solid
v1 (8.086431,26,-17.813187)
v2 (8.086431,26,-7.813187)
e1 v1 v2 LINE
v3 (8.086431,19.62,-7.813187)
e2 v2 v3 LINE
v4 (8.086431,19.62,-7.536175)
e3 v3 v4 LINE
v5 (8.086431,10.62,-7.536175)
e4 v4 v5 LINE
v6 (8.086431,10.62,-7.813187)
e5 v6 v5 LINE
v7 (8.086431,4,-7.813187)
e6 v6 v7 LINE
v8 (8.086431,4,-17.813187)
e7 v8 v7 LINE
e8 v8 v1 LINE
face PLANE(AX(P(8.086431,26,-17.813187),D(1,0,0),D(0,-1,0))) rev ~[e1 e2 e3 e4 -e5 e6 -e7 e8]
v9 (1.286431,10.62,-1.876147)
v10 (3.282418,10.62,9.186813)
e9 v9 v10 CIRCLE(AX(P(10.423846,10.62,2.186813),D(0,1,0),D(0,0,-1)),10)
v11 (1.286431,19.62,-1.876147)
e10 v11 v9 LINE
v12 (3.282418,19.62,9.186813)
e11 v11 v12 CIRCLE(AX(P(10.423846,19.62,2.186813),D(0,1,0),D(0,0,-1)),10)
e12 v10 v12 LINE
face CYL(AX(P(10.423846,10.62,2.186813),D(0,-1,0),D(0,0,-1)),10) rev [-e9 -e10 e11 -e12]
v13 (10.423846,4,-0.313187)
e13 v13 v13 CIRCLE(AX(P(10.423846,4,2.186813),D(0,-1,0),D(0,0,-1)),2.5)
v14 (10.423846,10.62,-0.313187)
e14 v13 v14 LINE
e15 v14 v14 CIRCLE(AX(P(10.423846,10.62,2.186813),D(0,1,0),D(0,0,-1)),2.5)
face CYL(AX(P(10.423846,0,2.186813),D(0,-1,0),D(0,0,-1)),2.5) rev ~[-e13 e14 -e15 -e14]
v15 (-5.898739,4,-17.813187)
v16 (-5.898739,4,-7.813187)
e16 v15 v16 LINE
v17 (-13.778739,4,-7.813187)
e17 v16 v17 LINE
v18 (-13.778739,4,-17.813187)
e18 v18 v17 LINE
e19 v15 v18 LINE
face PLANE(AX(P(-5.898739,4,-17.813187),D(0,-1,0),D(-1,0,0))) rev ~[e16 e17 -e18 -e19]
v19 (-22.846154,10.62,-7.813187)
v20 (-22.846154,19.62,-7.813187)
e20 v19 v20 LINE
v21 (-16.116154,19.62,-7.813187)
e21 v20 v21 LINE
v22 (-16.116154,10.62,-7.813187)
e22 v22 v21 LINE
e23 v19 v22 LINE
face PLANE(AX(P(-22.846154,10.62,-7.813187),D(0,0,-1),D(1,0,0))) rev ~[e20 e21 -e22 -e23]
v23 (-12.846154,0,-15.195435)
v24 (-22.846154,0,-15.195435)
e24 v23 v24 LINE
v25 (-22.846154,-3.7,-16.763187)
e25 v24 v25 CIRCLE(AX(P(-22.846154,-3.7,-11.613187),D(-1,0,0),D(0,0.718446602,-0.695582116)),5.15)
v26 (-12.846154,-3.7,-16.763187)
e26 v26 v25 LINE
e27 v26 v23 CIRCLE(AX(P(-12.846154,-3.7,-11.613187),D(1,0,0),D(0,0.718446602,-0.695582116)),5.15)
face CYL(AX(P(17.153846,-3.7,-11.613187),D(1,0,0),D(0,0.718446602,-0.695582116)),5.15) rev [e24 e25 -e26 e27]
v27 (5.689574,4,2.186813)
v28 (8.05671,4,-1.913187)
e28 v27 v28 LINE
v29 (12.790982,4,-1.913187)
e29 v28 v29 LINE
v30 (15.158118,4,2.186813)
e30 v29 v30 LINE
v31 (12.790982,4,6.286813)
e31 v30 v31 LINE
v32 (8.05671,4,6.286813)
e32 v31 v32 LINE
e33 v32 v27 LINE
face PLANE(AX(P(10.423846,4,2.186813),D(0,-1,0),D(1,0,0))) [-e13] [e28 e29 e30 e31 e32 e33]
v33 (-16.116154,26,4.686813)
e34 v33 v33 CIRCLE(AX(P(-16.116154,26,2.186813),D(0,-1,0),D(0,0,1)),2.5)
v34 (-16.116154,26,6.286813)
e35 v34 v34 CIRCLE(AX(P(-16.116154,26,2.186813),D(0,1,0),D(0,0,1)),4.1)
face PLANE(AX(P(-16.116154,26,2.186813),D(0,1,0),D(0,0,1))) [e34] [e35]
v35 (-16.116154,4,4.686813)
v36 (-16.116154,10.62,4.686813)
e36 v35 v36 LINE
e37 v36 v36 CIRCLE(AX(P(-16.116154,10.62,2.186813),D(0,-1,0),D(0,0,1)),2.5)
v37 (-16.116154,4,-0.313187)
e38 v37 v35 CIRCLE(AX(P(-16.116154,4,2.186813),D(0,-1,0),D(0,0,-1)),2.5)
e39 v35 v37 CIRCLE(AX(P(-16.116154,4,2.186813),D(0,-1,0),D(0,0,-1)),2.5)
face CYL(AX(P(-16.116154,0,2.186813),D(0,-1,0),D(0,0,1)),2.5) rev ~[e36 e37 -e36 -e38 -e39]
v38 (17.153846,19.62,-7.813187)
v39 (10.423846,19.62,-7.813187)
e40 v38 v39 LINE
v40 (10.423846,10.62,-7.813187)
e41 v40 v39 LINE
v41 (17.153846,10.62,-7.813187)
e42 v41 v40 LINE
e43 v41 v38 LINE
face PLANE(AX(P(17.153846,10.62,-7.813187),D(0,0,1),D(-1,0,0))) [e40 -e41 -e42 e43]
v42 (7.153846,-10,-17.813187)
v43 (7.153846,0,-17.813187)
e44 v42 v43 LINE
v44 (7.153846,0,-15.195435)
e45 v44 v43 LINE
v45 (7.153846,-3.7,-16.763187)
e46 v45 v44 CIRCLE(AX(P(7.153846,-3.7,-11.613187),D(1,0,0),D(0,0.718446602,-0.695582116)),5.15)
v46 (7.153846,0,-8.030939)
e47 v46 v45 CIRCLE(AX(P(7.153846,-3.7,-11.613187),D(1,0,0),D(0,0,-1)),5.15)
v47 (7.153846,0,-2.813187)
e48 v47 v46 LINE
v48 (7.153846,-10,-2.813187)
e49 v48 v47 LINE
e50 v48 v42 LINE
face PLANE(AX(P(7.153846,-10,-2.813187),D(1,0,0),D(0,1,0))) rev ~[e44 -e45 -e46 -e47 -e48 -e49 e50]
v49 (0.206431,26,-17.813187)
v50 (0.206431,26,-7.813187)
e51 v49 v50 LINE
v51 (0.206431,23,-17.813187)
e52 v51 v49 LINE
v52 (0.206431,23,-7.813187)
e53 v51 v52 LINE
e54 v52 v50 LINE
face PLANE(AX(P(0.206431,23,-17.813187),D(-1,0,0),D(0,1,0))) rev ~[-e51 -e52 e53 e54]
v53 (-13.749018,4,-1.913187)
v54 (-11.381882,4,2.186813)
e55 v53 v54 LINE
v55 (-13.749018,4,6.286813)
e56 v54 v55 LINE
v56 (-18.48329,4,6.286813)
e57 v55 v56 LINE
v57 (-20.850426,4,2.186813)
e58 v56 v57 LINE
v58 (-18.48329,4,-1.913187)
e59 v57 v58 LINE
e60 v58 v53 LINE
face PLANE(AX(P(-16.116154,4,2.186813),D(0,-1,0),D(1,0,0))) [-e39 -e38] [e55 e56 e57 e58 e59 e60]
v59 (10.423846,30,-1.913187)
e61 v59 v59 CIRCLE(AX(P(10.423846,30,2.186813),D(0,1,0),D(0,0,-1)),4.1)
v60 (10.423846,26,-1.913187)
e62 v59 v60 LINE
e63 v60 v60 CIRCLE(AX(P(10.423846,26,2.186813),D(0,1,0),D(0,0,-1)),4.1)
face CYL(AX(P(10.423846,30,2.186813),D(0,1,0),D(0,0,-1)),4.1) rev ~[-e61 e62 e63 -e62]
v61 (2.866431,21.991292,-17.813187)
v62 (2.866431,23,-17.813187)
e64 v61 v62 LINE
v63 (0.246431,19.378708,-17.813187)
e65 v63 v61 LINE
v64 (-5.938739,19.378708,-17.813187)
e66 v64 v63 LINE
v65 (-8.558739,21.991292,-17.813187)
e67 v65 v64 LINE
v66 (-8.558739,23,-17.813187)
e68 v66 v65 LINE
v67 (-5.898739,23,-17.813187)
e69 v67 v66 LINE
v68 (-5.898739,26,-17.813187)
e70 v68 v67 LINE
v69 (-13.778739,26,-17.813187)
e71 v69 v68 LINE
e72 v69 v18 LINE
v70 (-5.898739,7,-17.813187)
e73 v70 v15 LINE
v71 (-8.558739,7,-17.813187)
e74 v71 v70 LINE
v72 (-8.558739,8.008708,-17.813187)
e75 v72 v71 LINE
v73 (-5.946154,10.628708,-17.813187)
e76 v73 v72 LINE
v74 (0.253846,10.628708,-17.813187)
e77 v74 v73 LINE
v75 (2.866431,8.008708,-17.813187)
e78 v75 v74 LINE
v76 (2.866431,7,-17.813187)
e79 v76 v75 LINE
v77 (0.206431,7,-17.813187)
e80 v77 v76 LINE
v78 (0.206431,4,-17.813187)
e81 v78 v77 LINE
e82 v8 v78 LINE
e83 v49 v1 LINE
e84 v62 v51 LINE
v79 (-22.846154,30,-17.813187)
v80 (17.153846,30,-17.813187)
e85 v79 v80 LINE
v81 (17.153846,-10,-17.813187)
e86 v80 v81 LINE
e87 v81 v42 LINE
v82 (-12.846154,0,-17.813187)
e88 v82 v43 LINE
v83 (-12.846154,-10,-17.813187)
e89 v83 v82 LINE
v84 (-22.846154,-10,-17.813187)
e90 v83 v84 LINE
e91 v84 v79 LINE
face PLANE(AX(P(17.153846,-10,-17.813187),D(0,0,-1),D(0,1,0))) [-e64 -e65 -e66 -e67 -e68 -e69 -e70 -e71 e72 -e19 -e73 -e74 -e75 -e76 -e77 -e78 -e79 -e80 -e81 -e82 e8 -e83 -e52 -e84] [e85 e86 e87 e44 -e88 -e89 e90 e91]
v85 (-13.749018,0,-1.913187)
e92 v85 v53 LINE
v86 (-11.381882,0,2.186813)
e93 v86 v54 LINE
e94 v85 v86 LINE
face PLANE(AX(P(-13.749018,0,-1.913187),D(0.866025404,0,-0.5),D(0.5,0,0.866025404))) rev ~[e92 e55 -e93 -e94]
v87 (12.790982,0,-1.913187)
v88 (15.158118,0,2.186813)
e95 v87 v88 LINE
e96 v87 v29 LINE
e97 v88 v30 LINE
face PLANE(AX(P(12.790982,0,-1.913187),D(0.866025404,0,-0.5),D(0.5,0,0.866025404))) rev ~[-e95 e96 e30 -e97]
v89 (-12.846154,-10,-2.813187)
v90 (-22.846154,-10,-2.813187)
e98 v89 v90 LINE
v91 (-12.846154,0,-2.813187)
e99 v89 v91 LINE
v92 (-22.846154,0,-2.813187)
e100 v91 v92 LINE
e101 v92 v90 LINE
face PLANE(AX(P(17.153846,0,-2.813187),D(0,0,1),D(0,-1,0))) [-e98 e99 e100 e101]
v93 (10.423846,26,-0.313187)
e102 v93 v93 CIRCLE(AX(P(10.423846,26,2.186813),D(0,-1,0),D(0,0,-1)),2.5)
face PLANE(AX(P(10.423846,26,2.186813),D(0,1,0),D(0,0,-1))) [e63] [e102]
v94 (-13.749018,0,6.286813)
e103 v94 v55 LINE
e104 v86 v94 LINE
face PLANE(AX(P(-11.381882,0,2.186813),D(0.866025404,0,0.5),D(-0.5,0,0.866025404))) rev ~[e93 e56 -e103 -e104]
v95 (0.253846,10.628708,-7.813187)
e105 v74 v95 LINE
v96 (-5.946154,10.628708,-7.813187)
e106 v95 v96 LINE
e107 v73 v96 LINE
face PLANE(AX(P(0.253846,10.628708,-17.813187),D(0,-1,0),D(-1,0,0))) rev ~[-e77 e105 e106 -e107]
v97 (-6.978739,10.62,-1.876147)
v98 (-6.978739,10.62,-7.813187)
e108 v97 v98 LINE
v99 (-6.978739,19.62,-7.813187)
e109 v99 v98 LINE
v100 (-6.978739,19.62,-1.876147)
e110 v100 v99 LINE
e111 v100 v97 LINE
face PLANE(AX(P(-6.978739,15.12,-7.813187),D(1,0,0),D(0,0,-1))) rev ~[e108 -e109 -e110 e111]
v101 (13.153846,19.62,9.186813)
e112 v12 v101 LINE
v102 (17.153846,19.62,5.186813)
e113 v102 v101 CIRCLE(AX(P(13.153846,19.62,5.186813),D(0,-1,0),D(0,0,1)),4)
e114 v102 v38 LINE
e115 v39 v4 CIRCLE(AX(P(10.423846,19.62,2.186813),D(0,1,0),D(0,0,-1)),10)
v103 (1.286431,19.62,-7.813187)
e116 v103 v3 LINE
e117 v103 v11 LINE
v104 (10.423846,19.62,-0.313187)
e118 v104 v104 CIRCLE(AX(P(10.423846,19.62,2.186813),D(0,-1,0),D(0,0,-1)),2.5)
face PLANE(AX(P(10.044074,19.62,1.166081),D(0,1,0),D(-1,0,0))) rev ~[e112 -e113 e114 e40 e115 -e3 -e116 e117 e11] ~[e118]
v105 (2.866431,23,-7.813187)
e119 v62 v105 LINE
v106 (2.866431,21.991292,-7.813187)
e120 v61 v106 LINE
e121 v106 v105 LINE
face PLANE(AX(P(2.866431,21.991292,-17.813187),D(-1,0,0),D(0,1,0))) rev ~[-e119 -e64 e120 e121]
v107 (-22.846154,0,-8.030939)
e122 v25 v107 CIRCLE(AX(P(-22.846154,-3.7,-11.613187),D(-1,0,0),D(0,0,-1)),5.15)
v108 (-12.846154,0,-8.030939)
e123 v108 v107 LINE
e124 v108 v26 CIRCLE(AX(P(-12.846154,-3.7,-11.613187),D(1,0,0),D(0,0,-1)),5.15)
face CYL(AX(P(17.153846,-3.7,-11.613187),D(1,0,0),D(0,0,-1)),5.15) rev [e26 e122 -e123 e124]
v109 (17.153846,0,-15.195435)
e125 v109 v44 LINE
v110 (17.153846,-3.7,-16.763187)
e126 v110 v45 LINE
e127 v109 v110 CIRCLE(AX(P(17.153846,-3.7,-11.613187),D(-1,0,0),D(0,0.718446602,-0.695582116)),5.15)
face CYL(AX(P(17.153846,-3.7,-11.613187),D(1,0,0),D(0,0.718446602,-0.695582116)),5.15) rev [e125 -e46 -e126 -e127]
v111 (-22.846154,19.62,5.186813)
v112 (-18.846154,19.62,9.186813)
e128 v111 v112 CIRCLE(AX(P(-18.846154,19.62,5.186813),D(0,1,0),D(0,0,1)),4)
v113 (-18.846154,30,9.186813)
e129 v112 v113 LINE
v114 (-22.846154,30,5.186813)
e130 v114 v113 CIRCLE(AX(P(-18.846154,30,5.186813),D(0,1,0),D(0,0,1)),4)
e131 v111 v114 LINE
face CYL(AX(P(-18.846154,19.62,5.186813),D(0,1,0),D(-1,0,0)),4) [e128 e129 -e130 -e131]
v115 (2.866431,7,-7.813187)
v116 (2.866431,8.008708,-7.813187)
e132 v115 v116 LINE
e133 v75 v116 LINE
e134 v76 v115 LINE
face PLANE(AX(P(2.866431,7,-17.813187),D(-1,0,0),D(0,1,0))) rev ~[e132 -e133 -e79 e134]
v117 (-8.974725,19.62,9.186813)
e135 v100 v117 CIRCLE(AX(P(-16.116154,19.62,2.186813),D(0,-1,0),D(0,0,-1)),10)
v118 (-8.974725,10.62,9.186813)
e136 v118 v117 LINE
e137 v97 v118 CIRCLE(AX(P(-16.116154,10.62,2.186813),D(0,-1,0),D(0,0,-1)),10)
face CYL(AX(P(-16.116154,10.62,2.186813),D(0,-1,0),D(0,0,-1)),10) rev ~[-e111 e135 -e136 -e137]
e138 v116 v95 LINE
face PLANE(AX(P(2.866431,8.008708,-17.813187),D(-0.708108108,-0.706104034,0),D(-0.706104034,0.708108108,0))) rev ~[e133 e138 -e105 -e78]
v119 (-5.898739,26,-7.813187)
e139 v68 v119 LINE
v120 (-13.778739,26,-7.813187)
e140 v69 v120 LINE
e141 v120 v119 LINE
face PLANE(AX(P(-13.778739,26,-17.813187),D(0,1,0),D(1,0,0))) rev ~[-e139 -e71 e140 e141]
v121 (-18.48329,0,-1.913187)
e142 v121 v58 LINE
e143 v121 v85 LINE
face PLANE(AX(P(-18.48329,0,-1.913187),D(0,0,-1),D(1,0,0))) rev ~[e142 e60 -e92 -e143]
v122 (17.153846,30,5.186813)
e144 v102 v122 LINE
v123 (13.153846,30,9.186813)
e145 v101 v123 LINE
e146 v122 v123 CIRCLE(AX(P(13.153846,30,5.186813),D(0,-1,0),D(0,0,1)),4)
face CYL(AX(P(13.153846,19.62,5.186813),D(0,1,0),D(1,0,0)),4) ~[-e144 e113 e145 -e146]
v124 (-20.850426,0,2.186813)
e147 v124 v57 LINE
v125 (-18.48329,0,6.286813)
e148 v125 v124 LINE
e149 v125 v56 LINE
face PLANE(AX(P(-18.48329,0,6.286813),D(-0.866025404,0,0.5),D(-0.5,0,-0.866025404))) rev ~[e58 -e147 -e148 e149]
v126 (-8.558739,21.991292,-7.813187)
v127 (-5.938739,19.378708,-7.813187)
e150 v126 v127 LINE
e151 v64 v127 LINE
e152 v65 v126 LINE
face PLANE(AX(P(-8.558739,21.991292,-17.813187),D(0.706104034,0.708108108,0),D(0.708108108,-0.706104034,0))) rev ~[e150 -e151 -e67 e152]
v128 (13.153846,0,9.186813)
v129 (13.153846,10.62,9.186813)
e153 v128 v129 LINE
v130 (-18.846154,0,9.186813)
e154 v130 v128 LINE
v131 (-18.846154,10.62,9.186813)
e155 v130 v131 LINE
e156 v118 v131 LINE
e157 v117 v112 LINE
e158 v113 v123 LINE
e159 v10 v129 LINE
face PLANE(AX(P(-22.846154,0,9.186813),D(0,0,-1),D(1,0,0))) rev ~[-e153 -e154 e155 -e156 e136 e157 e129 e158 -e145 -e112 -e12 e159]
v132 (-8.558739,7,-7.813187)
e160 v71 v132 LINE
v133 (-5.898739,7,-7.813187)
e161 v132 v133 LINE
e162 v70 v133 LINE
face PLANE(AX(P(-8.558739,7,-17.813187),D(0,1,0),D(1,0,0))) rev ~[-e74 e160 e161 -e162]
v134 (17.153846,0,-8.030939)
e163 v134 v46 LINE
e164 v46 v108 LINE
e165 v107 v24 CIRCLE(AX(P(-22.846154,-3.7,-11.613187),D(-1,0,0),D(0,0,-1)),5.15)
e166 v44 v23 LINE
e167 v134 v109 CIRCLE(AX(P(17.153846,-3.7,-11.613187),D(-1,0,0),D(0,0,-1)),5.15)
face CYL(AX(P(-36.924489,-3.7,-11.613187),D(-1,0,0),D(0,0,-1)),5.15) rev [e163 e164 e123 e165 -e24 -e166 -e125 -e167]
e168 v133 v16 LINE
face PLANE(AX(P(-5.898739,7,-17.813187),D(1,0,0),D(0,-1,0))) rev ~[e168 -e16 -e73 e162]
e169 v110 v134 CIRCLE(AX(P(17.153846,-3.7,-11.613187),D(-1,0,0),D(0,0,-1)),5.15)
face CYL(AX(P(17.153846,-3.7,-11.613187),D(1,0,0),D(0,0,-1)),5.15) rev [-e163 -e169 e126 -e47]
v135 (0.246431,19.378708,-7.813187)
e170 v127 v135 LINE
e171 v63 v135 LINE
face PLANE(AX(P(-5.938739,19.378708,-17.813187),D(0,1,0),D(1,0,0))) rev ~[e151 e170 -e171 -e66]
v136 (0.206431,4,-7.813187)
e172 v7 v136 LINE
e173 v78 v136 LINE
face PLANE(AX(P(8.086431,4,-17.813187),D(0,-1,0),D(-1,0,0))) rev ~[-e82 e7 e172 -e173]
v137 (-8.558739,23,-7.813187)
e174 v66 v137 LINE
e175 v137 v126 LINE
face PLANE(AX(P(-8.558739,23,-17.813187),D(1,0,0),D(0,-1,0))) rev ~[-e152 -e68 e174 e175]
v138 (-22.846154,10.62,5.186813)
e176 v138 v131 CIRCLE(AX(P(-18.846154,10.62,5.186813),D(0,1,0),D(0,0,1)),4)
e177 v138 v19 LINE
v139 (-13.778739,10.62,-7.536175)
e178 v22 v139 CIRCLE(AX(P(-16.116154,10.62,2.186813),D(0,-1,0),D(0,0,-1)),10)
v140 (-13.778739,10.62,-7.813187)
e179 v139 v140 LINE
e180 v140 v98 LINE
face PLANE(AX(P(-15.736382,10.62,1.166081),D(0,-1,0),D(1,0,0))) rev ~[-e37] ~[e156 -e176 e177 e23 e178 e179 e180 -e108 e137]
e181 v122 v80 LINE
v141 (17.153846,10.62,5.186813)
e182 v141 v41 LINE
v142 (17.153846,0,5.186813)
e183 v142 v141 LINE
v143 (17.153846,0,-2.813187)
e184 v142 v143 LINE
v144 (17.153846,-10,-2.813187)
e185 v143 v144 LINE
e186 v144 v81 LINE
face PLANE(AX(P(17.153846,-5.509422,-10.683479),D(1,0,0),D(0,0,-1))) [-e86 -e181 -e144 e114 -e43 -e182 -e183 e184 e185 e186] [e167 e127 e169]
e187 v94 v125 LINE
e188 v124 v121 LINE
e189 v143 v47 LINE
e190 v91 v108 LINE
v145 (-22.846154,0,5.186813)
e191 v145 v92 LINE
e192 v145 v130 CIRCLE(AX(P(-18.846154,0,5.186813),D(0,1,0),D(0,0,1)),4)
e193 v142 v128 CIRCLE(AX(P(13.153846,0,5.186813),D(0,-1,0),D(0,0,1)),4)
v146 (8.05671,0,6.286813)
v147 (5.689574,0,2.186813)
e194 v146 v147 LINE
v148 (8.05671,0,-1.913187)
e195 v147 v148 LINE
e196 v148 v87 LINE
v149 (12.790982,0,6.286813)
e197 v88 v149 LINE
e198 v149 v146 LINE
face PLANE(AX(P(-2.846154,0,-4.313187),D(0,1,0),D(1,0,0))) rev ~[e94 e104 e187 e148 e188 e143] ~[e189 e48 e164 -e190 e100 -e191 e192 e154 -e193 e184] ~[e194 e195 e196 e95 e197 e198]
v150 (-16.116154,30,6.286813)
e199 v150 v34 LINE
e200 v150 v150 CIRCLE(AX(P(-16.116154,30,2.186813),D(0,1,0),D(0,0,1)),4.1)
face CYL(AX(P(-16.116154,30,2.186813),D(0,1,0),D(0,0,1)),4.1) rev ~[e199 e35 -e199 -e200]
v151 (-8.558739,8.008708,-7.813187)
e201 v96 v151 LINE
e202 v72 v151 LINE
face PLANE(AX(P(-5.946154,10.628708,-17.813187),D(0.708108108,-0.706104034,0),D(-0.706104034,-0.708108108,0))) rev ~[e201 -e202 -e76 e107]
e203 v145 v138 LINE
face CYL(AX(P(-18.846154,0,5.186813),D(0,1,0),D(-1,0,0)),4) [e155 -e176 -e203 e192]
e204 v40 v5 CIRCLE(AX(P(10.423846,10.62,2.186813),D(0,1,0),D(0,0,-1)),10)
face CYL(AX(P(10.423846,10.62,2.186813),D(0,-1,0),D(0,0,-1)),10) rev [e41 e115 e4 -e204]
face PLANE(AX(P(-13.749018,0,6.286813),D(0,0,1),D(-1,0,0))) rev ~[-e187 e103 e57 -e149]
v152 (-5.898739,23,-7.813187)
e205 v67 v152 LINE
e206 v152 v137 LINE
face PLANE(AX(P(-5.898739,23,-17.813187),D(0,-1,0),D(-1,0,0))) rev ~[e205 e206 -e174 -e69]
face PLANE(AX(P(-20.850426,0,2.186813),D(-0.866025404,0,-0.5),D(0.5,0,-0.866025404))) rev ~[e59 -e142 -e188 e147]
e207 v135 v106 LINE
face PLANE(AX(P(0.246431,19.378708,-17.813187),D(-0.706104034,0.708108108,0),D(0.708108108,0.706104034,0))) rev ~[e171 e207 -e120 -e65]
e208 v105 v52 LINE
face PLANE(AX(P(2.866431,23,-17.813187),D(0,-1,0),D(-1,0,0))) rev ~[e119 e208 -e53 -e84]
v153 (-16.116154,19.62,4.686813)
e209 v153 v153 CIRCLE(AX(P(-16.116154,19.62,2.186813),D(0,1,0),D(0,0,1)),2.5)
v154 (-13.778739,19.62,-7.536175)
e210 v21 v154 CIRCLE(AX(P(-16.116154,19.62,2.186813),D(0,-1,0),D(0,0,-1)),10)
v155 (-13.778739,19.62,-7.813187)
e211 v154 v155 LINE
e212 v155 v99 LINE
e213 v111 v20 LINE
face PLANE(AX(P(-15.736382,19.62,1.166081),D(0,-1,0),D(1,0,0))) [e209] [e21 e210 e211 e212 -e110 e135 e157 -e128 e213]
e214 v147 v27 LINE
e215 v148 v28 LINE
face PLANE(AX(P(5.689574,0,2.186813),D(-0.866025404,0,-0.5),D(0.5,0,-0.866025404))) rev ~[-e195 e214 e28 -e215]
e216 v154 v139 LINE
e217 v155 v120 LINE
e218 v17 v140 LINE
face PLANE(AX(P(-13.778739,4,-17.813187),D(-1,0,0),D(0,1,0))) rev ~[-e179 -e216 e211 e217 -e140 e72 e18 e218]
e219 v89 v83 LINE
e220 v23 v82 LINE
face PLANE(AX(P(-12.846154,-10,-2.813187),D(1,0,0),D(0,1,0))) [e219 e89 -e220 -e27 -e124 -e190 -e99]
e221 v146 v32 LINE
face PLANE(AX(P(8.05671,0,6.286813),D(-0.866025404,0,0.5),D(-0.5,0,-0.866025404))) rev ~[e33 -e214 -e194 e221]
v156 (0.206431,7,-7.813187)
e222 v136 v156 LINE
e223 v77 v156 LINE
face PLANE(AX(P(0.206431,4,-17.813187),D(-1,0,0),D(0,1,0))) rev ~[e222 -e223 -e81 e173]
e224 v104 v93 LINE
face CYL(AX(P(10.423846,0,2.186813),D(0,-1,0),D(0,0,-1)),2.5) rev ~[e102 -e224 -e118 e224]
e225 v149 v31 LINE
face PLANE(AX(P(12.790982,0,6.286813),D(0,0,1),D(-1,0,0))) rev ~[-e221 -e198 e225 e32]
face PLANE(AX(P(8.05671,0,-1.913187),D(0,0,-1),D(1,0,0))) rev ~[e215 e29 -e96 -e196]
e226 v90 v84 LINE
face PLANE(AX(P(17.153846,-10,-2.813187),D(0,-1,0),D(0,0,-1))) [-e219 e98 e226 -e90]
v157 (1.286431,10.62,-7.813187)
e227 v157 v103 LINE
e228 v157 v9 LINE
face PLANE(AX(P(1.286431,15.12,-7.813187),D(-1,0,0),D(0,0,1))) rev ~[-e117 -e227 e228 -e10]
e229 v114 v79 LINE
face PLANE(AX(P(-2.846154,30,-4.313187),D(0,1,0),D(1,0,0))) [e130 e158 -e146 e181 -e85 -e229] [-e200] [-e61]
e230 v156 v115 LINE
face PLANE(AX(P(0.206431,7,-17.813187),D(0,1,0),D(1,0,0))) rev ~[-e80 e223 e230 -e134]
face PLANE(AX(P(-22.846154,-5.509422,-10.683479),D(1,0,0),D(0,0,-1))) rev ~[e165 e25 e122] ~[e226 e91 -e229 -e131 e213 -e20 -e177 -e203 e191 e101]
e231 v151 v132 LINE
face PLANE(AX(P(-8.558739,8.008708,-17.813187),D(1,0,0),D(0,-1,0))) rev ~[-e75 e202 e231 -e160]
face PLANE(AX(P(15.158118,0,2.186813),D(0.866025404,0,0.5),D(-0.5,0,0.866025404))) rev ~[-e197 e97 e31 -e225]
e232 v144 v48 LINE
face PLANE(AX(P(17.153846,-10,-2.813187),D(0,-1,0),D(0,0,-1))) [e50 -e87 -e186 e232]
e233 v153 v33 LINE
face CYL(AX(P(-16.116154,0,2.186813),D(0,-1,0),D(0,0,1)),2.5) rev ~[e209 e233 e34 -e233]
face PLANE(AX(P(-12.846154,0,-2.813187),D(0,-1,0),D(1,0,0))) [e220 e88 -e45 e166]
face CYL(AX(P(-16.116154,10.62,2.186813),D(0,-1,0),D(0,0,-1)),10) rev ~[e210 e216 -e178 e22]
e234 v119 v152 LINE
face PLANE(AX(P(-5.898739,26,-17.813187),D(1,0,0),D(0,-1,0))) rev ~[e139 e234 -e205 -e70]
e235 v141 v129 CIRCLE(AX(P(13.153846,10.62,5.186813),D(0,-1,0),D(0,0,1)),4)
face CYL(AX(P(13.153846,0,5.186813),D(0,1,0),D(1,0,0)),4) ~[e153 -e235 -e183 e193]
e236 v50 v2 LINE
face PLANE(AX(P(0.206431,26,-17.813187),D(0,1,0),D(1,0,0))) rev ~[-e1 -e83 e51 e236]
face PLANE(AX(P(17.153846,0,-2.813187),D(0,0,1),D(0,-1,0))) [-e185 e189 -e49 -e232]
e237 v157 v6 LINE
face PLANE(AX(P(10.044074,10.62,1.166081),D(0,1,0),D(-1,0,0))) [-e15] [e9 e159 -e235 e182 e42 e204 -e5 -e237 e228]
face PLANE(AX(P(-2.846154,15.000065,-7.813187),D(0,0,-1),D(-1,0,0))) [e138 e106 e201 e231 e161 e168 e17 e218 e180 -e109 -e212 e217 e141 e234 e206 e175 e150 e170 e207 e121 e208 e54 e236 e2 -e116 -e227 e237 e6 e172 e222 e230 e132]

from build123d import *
from build123d.topology import SkipClean

# Parameters (mm, degrees)
SKETCH1_W                = 40
SKETCH1_H                = 27
BOSS_EXTRUDE1_DEPTH      = 30
CUT_EXTRUDE1_DEPTH       = 10
SKETCH3_R                = 2.5
CUT_EXTRUDE2_DEPTH       = 30
CUT_EXTRUDE5_START       = -10.62
CUT_EXTRUDE5_DEPTH       = 9
SKETCH10_W               = 20
SKETCH10_H               = 9
CUT_EXTRUDE7_DEPTH       = 6.8
SKETCH12_W               = 20
SKETCH12_H               = 9
CUT_EXTRUDE10_DEPTH      = 6.8
FILLET1_R                = 4
BOSS_EXTRUDE2_DEPTH      = 40
CUT_EXTRUDE14_DEPTH      = 54.078334793
CUT_EXTRUDE14_DEPTH_BACK = 54.078334793
SKETCH17_R               = 5.15
CUT_EXTRUDE11_REACH      = 42.583
SKETCH14_W               = 20
SKETCH14_H               = 10
SKETCH15_R               = 4.1
CUT_EXTRUDE12_DEPTH      = 4
SKETCH16_R               = 2.5
CUT_EXTRUDE13_DEPTH      = 4


with BuildPart() as part:
    # Sketch1 → Boss-Extrude1 (new body)
    with BuildSketch(Plane(origin=(0, 0, 0), x_dir=(1, 0, 0), z_dir=(0, 1, 0))):
        with Locations((-2.846153846, 4.313186813)):
            Rectangle(SKETCH1_W, SKETCH1_H)
    extrude(amount=BOSS_EXTRUDE1_DEPTH)

    # Sketch2 → Cut-Extrude1 (cut)
    with BuildSketch(Plane(origin=(0, 0, -17.813186813), x_dir=(-1, 0, 0), z_dir=(0, 0, -1))):
        Polygon((-8.086431081, 26), (-8.086431081, 4), (-0.206431081, 4), (-0.206431081, 7), (-2.866431081, 7), (-2.866431081, 8.008707537), (-0.253846154, 10.628707537), (5.946153846, 10.628707537), (8.558738773, 8.008707537), (8.558738773, 7), (5.898738773, 7), (5.898738773, 4), (13.778738773, 4), (13.778738773, 26), (5.898738773, 26), (5.898738773, 23), (8.558738773, 23), (8.558738773, 21.991292463), (5.938738773, 19.378707537), (-0.246431081, 19.378707537), (-2.866431081, 21.991292463), (-2.866431081, 23), (-0.206431081, 23), (-0.206431081, 26), align=None)
    extrude(amount=-CUT_EXTRUDE1_DEPTH, mode=Mode.SUBTRACT)

    # Sketch3 → Cut-Extrude2 (cut)
    with BuildSketch(Plane.XZ):
        with Locations(Location((10.423846154, 2.186813187, 0), (0, 0, 270))):
            Circle(SKETCH3_R)
        with Locations(Location((-16.116153846, 2.186813187, 0), (0, 0, 90))):
            Circle(SKETCH3_R)
    extrude(amount=-CUT_EXTRUDE2_DEPTH, mode=Mode.SUBTRACT)

    # Sketch8 → Cut-Extrude5 (cut)
    with BuildSketch(Plane.XZ.offset(CUT_EXTRUDE5_START)):
        with BuildLine():
            Line((3.282417725, 9.186813187), (17.153846154, 9.186813187))
            Line((17.153846154, 9.186813187), (17.153846154, -7.813186813))
            Line((17.153846154, -7.813186813), (10.423846154, -7.813186813))
            ThreePointArc((10.423846154, -7.813186813), (1.204301697, -1.686170159), (3.282417725, 9.186813187))
        make_face()
        with BuildLine():
            Line((-22.846153846, -7.813186813), (-16.116153846, -7.813186813))
            ThreePointArc((-16.116153846, -7.813186813), (-6.896609389, -1.686170159), (-8.974725418, 9.186813187))
            Line((-8.974725418, 9.186813187), (-22.846153846, 9.186813187))
            Line((-22.846153846, 9.186813187), (-22.846153846, -7.813186813))
        make_face()
    extrude(amount=-CUT_EXTRUDE5_DEPTH, mode=Mode.SUBTRACT)

    # Sketch10 → Cut-Extrude7 (cut)
    with BuildSketch(Plane.ZY.offset(-8.086431081)):
        with Locations((-7.813186813, 15.12)):
            Rectangle(SKETCH10_W, SKETCH10_H)
    extrude(amount=CUT_EXTRUDE7_DEPTH, mode=Mode.SUBTRACT)

    # Sketch12 → Cut-Extrude10 (cut)
    with BuildSketch(Plane(origin=(-13.778738773, 0, 0), x_dir=(0, 0, -1), z_dir=(1, 0, 0))):
        with Locations((7.813186813, 15.12)):
            Rectangle(SKETCH12_W, SKETCH12_H)
    extrude(amount=CUT_EXTRUDE10_DEPTH, mode=Mode.SUBTRACT)

    # Fillet1
    fillet1_edges = [part.edges().sort_by_distance(p)[0] for p in [
        (17.153846154, 24.81, 9.186813187),
        (-22.846153846, 24.81, 9.186813187),
        (17.153846154, 5.31, 9.186813187),
        (-22.846153846, 5.31, 9.186813187),
    ]]
    fillet(fillet1_edges, radius=FILLET1_R)

    # Sketch13 → Boss-Extrude2 (add)
    with BuildSketch(Plane(origin=(17.153846154, 0, 0), x_dir=(0, 0, -1), z_dir=(1, 0, 0))):
        with BuildLine():
            Line((17.813186813, -10), (17.813186813, 0))
            Line((17.813186813, 0), (15.195434711, 0))
            ThreePointArc((15.195434711, 0), (16.355078665, -1.690780832), (16.763186813, -3.7))
            ThreePointArc((16.763186813, -3.7), (9.603967646, -8.441891852), (8.030938916, 0))
            Line((8.030938916, 0), (2.813186813, 0))
            Line((2.813186813, 0), (2.813186813, -10))
            Line((2.813186813, -10), (17.813186813, -10))
        make_face()
    extrude(amount=-BOSS_EXTRUDE2_DEPTH)

    # Sketch17 → Cut-Extrude14 (cut, two sides: drawn at the far end of the back side and taken through both)
    with SkipClean():  # the faces are left unmerged after this step: merging them gives an invalid solid
        with BuildSketch(Plane(origin=(17.153846154, 0, 0), x_dir=(0, 0, -1), z_dir=(1, 0, 0)).offset(-CUT_EXTRUDE14_DEPTH_BACK)):
            with Locations((11.613186813, -3.7)):
                Circle(SKETCH17_R)
        extrude(amount=CUT_EXTRUDE14_DEPTH + CUT_EXTRUDE14_DEPTH_BACK, mode=Mode.SUBTRACT)

    # Sketch14 → Cut-Extrude11 (cut, up to next)
    with BuildSketch(Plane.XY.offset(-2.813186813), mode=Mode.PRIVATE) as cut_extrude11_sk1:
        with Locations((-2.846153846, -5)):
            Rectangle(SKETCH14_W, SKETCH14_H)
    cut_extrude11_tool1 = extrude(cut_extrude11_sk1.sketch, amount=-CUT_EXTRUDE11_REACH, mode=Mode.PRIVATE) & part.part
    add(cut_extrude11_tool1.solids().sort_by_distance((-2.846154, -5, -2.813187))[0], mode=Mode.SUBTRACT)

    # Sketch15 → Cut-Extrude12 (cut)
    with SkipClean():  # the faces are left unmerged after this step: merging them gives an invalid solid
        with BuildSketch(Plane(origin=(0, 30, 0), x_dir=(1, 0, 0), z_dir=(0, 1, 0))):
            with Locations(Location((-16.116153846, -2.186813187, 0), (0, 0, 270))):
                Circle(SKETCH15_R)
            with Locations(Location((10.423846154, -2.186813187, 0), (0, 0, 90))):
                Circle(SKETCH15_R)
        extrude(amount=-CUT_EXTRUDE12_DEPTH, mode=Mode.SUBTRACT)

    # Sketch16 → Cut-Extrude13 (cut)
    # profile 1 of 2: a face of its own
    with SkipClean():  # the faces are left unmerged after this step: merging them gives an invalid solid
        with BuildSketch(Plane.XZ):
            Polygon((-13.749017742, -1.913186813), (-11.381881639, 2.186813187), (-13.749017742, 6.286813187), (-18.48328995, 6.286813187), (-20.850426054, 2.186813187), (-18.48328995, -1.913186813), align=None)
            with Locations(Location((-16.116153846, 2.186813187, 0), (0, 0, 270))):
                Circle(SKETCH16_R, mode=Mode.SUBTRACT)
        # profile 2 of 2: a face of its own
        with BuildSketch(Plane.XZ):
            Polygon((12.790982258, -1.913186813), (15.158118361, 2.186813187), (12.790982258, 6.286813187), (8.05671005, 6.286813187), (5.689573946, 2.186813187), (8.05671005, -1.913186813), align=None)
            with Locations(Location((10.423846154, 2.186813187, 0), (0, 0, 270))):
                Circle(SKETCH16_R, mode=Mode.SUBTRACT)
        extrude(amount=-CUT_EXTRUDE13_DEPTH, mode=Mode.SUBTRACT)


solid = part.part
